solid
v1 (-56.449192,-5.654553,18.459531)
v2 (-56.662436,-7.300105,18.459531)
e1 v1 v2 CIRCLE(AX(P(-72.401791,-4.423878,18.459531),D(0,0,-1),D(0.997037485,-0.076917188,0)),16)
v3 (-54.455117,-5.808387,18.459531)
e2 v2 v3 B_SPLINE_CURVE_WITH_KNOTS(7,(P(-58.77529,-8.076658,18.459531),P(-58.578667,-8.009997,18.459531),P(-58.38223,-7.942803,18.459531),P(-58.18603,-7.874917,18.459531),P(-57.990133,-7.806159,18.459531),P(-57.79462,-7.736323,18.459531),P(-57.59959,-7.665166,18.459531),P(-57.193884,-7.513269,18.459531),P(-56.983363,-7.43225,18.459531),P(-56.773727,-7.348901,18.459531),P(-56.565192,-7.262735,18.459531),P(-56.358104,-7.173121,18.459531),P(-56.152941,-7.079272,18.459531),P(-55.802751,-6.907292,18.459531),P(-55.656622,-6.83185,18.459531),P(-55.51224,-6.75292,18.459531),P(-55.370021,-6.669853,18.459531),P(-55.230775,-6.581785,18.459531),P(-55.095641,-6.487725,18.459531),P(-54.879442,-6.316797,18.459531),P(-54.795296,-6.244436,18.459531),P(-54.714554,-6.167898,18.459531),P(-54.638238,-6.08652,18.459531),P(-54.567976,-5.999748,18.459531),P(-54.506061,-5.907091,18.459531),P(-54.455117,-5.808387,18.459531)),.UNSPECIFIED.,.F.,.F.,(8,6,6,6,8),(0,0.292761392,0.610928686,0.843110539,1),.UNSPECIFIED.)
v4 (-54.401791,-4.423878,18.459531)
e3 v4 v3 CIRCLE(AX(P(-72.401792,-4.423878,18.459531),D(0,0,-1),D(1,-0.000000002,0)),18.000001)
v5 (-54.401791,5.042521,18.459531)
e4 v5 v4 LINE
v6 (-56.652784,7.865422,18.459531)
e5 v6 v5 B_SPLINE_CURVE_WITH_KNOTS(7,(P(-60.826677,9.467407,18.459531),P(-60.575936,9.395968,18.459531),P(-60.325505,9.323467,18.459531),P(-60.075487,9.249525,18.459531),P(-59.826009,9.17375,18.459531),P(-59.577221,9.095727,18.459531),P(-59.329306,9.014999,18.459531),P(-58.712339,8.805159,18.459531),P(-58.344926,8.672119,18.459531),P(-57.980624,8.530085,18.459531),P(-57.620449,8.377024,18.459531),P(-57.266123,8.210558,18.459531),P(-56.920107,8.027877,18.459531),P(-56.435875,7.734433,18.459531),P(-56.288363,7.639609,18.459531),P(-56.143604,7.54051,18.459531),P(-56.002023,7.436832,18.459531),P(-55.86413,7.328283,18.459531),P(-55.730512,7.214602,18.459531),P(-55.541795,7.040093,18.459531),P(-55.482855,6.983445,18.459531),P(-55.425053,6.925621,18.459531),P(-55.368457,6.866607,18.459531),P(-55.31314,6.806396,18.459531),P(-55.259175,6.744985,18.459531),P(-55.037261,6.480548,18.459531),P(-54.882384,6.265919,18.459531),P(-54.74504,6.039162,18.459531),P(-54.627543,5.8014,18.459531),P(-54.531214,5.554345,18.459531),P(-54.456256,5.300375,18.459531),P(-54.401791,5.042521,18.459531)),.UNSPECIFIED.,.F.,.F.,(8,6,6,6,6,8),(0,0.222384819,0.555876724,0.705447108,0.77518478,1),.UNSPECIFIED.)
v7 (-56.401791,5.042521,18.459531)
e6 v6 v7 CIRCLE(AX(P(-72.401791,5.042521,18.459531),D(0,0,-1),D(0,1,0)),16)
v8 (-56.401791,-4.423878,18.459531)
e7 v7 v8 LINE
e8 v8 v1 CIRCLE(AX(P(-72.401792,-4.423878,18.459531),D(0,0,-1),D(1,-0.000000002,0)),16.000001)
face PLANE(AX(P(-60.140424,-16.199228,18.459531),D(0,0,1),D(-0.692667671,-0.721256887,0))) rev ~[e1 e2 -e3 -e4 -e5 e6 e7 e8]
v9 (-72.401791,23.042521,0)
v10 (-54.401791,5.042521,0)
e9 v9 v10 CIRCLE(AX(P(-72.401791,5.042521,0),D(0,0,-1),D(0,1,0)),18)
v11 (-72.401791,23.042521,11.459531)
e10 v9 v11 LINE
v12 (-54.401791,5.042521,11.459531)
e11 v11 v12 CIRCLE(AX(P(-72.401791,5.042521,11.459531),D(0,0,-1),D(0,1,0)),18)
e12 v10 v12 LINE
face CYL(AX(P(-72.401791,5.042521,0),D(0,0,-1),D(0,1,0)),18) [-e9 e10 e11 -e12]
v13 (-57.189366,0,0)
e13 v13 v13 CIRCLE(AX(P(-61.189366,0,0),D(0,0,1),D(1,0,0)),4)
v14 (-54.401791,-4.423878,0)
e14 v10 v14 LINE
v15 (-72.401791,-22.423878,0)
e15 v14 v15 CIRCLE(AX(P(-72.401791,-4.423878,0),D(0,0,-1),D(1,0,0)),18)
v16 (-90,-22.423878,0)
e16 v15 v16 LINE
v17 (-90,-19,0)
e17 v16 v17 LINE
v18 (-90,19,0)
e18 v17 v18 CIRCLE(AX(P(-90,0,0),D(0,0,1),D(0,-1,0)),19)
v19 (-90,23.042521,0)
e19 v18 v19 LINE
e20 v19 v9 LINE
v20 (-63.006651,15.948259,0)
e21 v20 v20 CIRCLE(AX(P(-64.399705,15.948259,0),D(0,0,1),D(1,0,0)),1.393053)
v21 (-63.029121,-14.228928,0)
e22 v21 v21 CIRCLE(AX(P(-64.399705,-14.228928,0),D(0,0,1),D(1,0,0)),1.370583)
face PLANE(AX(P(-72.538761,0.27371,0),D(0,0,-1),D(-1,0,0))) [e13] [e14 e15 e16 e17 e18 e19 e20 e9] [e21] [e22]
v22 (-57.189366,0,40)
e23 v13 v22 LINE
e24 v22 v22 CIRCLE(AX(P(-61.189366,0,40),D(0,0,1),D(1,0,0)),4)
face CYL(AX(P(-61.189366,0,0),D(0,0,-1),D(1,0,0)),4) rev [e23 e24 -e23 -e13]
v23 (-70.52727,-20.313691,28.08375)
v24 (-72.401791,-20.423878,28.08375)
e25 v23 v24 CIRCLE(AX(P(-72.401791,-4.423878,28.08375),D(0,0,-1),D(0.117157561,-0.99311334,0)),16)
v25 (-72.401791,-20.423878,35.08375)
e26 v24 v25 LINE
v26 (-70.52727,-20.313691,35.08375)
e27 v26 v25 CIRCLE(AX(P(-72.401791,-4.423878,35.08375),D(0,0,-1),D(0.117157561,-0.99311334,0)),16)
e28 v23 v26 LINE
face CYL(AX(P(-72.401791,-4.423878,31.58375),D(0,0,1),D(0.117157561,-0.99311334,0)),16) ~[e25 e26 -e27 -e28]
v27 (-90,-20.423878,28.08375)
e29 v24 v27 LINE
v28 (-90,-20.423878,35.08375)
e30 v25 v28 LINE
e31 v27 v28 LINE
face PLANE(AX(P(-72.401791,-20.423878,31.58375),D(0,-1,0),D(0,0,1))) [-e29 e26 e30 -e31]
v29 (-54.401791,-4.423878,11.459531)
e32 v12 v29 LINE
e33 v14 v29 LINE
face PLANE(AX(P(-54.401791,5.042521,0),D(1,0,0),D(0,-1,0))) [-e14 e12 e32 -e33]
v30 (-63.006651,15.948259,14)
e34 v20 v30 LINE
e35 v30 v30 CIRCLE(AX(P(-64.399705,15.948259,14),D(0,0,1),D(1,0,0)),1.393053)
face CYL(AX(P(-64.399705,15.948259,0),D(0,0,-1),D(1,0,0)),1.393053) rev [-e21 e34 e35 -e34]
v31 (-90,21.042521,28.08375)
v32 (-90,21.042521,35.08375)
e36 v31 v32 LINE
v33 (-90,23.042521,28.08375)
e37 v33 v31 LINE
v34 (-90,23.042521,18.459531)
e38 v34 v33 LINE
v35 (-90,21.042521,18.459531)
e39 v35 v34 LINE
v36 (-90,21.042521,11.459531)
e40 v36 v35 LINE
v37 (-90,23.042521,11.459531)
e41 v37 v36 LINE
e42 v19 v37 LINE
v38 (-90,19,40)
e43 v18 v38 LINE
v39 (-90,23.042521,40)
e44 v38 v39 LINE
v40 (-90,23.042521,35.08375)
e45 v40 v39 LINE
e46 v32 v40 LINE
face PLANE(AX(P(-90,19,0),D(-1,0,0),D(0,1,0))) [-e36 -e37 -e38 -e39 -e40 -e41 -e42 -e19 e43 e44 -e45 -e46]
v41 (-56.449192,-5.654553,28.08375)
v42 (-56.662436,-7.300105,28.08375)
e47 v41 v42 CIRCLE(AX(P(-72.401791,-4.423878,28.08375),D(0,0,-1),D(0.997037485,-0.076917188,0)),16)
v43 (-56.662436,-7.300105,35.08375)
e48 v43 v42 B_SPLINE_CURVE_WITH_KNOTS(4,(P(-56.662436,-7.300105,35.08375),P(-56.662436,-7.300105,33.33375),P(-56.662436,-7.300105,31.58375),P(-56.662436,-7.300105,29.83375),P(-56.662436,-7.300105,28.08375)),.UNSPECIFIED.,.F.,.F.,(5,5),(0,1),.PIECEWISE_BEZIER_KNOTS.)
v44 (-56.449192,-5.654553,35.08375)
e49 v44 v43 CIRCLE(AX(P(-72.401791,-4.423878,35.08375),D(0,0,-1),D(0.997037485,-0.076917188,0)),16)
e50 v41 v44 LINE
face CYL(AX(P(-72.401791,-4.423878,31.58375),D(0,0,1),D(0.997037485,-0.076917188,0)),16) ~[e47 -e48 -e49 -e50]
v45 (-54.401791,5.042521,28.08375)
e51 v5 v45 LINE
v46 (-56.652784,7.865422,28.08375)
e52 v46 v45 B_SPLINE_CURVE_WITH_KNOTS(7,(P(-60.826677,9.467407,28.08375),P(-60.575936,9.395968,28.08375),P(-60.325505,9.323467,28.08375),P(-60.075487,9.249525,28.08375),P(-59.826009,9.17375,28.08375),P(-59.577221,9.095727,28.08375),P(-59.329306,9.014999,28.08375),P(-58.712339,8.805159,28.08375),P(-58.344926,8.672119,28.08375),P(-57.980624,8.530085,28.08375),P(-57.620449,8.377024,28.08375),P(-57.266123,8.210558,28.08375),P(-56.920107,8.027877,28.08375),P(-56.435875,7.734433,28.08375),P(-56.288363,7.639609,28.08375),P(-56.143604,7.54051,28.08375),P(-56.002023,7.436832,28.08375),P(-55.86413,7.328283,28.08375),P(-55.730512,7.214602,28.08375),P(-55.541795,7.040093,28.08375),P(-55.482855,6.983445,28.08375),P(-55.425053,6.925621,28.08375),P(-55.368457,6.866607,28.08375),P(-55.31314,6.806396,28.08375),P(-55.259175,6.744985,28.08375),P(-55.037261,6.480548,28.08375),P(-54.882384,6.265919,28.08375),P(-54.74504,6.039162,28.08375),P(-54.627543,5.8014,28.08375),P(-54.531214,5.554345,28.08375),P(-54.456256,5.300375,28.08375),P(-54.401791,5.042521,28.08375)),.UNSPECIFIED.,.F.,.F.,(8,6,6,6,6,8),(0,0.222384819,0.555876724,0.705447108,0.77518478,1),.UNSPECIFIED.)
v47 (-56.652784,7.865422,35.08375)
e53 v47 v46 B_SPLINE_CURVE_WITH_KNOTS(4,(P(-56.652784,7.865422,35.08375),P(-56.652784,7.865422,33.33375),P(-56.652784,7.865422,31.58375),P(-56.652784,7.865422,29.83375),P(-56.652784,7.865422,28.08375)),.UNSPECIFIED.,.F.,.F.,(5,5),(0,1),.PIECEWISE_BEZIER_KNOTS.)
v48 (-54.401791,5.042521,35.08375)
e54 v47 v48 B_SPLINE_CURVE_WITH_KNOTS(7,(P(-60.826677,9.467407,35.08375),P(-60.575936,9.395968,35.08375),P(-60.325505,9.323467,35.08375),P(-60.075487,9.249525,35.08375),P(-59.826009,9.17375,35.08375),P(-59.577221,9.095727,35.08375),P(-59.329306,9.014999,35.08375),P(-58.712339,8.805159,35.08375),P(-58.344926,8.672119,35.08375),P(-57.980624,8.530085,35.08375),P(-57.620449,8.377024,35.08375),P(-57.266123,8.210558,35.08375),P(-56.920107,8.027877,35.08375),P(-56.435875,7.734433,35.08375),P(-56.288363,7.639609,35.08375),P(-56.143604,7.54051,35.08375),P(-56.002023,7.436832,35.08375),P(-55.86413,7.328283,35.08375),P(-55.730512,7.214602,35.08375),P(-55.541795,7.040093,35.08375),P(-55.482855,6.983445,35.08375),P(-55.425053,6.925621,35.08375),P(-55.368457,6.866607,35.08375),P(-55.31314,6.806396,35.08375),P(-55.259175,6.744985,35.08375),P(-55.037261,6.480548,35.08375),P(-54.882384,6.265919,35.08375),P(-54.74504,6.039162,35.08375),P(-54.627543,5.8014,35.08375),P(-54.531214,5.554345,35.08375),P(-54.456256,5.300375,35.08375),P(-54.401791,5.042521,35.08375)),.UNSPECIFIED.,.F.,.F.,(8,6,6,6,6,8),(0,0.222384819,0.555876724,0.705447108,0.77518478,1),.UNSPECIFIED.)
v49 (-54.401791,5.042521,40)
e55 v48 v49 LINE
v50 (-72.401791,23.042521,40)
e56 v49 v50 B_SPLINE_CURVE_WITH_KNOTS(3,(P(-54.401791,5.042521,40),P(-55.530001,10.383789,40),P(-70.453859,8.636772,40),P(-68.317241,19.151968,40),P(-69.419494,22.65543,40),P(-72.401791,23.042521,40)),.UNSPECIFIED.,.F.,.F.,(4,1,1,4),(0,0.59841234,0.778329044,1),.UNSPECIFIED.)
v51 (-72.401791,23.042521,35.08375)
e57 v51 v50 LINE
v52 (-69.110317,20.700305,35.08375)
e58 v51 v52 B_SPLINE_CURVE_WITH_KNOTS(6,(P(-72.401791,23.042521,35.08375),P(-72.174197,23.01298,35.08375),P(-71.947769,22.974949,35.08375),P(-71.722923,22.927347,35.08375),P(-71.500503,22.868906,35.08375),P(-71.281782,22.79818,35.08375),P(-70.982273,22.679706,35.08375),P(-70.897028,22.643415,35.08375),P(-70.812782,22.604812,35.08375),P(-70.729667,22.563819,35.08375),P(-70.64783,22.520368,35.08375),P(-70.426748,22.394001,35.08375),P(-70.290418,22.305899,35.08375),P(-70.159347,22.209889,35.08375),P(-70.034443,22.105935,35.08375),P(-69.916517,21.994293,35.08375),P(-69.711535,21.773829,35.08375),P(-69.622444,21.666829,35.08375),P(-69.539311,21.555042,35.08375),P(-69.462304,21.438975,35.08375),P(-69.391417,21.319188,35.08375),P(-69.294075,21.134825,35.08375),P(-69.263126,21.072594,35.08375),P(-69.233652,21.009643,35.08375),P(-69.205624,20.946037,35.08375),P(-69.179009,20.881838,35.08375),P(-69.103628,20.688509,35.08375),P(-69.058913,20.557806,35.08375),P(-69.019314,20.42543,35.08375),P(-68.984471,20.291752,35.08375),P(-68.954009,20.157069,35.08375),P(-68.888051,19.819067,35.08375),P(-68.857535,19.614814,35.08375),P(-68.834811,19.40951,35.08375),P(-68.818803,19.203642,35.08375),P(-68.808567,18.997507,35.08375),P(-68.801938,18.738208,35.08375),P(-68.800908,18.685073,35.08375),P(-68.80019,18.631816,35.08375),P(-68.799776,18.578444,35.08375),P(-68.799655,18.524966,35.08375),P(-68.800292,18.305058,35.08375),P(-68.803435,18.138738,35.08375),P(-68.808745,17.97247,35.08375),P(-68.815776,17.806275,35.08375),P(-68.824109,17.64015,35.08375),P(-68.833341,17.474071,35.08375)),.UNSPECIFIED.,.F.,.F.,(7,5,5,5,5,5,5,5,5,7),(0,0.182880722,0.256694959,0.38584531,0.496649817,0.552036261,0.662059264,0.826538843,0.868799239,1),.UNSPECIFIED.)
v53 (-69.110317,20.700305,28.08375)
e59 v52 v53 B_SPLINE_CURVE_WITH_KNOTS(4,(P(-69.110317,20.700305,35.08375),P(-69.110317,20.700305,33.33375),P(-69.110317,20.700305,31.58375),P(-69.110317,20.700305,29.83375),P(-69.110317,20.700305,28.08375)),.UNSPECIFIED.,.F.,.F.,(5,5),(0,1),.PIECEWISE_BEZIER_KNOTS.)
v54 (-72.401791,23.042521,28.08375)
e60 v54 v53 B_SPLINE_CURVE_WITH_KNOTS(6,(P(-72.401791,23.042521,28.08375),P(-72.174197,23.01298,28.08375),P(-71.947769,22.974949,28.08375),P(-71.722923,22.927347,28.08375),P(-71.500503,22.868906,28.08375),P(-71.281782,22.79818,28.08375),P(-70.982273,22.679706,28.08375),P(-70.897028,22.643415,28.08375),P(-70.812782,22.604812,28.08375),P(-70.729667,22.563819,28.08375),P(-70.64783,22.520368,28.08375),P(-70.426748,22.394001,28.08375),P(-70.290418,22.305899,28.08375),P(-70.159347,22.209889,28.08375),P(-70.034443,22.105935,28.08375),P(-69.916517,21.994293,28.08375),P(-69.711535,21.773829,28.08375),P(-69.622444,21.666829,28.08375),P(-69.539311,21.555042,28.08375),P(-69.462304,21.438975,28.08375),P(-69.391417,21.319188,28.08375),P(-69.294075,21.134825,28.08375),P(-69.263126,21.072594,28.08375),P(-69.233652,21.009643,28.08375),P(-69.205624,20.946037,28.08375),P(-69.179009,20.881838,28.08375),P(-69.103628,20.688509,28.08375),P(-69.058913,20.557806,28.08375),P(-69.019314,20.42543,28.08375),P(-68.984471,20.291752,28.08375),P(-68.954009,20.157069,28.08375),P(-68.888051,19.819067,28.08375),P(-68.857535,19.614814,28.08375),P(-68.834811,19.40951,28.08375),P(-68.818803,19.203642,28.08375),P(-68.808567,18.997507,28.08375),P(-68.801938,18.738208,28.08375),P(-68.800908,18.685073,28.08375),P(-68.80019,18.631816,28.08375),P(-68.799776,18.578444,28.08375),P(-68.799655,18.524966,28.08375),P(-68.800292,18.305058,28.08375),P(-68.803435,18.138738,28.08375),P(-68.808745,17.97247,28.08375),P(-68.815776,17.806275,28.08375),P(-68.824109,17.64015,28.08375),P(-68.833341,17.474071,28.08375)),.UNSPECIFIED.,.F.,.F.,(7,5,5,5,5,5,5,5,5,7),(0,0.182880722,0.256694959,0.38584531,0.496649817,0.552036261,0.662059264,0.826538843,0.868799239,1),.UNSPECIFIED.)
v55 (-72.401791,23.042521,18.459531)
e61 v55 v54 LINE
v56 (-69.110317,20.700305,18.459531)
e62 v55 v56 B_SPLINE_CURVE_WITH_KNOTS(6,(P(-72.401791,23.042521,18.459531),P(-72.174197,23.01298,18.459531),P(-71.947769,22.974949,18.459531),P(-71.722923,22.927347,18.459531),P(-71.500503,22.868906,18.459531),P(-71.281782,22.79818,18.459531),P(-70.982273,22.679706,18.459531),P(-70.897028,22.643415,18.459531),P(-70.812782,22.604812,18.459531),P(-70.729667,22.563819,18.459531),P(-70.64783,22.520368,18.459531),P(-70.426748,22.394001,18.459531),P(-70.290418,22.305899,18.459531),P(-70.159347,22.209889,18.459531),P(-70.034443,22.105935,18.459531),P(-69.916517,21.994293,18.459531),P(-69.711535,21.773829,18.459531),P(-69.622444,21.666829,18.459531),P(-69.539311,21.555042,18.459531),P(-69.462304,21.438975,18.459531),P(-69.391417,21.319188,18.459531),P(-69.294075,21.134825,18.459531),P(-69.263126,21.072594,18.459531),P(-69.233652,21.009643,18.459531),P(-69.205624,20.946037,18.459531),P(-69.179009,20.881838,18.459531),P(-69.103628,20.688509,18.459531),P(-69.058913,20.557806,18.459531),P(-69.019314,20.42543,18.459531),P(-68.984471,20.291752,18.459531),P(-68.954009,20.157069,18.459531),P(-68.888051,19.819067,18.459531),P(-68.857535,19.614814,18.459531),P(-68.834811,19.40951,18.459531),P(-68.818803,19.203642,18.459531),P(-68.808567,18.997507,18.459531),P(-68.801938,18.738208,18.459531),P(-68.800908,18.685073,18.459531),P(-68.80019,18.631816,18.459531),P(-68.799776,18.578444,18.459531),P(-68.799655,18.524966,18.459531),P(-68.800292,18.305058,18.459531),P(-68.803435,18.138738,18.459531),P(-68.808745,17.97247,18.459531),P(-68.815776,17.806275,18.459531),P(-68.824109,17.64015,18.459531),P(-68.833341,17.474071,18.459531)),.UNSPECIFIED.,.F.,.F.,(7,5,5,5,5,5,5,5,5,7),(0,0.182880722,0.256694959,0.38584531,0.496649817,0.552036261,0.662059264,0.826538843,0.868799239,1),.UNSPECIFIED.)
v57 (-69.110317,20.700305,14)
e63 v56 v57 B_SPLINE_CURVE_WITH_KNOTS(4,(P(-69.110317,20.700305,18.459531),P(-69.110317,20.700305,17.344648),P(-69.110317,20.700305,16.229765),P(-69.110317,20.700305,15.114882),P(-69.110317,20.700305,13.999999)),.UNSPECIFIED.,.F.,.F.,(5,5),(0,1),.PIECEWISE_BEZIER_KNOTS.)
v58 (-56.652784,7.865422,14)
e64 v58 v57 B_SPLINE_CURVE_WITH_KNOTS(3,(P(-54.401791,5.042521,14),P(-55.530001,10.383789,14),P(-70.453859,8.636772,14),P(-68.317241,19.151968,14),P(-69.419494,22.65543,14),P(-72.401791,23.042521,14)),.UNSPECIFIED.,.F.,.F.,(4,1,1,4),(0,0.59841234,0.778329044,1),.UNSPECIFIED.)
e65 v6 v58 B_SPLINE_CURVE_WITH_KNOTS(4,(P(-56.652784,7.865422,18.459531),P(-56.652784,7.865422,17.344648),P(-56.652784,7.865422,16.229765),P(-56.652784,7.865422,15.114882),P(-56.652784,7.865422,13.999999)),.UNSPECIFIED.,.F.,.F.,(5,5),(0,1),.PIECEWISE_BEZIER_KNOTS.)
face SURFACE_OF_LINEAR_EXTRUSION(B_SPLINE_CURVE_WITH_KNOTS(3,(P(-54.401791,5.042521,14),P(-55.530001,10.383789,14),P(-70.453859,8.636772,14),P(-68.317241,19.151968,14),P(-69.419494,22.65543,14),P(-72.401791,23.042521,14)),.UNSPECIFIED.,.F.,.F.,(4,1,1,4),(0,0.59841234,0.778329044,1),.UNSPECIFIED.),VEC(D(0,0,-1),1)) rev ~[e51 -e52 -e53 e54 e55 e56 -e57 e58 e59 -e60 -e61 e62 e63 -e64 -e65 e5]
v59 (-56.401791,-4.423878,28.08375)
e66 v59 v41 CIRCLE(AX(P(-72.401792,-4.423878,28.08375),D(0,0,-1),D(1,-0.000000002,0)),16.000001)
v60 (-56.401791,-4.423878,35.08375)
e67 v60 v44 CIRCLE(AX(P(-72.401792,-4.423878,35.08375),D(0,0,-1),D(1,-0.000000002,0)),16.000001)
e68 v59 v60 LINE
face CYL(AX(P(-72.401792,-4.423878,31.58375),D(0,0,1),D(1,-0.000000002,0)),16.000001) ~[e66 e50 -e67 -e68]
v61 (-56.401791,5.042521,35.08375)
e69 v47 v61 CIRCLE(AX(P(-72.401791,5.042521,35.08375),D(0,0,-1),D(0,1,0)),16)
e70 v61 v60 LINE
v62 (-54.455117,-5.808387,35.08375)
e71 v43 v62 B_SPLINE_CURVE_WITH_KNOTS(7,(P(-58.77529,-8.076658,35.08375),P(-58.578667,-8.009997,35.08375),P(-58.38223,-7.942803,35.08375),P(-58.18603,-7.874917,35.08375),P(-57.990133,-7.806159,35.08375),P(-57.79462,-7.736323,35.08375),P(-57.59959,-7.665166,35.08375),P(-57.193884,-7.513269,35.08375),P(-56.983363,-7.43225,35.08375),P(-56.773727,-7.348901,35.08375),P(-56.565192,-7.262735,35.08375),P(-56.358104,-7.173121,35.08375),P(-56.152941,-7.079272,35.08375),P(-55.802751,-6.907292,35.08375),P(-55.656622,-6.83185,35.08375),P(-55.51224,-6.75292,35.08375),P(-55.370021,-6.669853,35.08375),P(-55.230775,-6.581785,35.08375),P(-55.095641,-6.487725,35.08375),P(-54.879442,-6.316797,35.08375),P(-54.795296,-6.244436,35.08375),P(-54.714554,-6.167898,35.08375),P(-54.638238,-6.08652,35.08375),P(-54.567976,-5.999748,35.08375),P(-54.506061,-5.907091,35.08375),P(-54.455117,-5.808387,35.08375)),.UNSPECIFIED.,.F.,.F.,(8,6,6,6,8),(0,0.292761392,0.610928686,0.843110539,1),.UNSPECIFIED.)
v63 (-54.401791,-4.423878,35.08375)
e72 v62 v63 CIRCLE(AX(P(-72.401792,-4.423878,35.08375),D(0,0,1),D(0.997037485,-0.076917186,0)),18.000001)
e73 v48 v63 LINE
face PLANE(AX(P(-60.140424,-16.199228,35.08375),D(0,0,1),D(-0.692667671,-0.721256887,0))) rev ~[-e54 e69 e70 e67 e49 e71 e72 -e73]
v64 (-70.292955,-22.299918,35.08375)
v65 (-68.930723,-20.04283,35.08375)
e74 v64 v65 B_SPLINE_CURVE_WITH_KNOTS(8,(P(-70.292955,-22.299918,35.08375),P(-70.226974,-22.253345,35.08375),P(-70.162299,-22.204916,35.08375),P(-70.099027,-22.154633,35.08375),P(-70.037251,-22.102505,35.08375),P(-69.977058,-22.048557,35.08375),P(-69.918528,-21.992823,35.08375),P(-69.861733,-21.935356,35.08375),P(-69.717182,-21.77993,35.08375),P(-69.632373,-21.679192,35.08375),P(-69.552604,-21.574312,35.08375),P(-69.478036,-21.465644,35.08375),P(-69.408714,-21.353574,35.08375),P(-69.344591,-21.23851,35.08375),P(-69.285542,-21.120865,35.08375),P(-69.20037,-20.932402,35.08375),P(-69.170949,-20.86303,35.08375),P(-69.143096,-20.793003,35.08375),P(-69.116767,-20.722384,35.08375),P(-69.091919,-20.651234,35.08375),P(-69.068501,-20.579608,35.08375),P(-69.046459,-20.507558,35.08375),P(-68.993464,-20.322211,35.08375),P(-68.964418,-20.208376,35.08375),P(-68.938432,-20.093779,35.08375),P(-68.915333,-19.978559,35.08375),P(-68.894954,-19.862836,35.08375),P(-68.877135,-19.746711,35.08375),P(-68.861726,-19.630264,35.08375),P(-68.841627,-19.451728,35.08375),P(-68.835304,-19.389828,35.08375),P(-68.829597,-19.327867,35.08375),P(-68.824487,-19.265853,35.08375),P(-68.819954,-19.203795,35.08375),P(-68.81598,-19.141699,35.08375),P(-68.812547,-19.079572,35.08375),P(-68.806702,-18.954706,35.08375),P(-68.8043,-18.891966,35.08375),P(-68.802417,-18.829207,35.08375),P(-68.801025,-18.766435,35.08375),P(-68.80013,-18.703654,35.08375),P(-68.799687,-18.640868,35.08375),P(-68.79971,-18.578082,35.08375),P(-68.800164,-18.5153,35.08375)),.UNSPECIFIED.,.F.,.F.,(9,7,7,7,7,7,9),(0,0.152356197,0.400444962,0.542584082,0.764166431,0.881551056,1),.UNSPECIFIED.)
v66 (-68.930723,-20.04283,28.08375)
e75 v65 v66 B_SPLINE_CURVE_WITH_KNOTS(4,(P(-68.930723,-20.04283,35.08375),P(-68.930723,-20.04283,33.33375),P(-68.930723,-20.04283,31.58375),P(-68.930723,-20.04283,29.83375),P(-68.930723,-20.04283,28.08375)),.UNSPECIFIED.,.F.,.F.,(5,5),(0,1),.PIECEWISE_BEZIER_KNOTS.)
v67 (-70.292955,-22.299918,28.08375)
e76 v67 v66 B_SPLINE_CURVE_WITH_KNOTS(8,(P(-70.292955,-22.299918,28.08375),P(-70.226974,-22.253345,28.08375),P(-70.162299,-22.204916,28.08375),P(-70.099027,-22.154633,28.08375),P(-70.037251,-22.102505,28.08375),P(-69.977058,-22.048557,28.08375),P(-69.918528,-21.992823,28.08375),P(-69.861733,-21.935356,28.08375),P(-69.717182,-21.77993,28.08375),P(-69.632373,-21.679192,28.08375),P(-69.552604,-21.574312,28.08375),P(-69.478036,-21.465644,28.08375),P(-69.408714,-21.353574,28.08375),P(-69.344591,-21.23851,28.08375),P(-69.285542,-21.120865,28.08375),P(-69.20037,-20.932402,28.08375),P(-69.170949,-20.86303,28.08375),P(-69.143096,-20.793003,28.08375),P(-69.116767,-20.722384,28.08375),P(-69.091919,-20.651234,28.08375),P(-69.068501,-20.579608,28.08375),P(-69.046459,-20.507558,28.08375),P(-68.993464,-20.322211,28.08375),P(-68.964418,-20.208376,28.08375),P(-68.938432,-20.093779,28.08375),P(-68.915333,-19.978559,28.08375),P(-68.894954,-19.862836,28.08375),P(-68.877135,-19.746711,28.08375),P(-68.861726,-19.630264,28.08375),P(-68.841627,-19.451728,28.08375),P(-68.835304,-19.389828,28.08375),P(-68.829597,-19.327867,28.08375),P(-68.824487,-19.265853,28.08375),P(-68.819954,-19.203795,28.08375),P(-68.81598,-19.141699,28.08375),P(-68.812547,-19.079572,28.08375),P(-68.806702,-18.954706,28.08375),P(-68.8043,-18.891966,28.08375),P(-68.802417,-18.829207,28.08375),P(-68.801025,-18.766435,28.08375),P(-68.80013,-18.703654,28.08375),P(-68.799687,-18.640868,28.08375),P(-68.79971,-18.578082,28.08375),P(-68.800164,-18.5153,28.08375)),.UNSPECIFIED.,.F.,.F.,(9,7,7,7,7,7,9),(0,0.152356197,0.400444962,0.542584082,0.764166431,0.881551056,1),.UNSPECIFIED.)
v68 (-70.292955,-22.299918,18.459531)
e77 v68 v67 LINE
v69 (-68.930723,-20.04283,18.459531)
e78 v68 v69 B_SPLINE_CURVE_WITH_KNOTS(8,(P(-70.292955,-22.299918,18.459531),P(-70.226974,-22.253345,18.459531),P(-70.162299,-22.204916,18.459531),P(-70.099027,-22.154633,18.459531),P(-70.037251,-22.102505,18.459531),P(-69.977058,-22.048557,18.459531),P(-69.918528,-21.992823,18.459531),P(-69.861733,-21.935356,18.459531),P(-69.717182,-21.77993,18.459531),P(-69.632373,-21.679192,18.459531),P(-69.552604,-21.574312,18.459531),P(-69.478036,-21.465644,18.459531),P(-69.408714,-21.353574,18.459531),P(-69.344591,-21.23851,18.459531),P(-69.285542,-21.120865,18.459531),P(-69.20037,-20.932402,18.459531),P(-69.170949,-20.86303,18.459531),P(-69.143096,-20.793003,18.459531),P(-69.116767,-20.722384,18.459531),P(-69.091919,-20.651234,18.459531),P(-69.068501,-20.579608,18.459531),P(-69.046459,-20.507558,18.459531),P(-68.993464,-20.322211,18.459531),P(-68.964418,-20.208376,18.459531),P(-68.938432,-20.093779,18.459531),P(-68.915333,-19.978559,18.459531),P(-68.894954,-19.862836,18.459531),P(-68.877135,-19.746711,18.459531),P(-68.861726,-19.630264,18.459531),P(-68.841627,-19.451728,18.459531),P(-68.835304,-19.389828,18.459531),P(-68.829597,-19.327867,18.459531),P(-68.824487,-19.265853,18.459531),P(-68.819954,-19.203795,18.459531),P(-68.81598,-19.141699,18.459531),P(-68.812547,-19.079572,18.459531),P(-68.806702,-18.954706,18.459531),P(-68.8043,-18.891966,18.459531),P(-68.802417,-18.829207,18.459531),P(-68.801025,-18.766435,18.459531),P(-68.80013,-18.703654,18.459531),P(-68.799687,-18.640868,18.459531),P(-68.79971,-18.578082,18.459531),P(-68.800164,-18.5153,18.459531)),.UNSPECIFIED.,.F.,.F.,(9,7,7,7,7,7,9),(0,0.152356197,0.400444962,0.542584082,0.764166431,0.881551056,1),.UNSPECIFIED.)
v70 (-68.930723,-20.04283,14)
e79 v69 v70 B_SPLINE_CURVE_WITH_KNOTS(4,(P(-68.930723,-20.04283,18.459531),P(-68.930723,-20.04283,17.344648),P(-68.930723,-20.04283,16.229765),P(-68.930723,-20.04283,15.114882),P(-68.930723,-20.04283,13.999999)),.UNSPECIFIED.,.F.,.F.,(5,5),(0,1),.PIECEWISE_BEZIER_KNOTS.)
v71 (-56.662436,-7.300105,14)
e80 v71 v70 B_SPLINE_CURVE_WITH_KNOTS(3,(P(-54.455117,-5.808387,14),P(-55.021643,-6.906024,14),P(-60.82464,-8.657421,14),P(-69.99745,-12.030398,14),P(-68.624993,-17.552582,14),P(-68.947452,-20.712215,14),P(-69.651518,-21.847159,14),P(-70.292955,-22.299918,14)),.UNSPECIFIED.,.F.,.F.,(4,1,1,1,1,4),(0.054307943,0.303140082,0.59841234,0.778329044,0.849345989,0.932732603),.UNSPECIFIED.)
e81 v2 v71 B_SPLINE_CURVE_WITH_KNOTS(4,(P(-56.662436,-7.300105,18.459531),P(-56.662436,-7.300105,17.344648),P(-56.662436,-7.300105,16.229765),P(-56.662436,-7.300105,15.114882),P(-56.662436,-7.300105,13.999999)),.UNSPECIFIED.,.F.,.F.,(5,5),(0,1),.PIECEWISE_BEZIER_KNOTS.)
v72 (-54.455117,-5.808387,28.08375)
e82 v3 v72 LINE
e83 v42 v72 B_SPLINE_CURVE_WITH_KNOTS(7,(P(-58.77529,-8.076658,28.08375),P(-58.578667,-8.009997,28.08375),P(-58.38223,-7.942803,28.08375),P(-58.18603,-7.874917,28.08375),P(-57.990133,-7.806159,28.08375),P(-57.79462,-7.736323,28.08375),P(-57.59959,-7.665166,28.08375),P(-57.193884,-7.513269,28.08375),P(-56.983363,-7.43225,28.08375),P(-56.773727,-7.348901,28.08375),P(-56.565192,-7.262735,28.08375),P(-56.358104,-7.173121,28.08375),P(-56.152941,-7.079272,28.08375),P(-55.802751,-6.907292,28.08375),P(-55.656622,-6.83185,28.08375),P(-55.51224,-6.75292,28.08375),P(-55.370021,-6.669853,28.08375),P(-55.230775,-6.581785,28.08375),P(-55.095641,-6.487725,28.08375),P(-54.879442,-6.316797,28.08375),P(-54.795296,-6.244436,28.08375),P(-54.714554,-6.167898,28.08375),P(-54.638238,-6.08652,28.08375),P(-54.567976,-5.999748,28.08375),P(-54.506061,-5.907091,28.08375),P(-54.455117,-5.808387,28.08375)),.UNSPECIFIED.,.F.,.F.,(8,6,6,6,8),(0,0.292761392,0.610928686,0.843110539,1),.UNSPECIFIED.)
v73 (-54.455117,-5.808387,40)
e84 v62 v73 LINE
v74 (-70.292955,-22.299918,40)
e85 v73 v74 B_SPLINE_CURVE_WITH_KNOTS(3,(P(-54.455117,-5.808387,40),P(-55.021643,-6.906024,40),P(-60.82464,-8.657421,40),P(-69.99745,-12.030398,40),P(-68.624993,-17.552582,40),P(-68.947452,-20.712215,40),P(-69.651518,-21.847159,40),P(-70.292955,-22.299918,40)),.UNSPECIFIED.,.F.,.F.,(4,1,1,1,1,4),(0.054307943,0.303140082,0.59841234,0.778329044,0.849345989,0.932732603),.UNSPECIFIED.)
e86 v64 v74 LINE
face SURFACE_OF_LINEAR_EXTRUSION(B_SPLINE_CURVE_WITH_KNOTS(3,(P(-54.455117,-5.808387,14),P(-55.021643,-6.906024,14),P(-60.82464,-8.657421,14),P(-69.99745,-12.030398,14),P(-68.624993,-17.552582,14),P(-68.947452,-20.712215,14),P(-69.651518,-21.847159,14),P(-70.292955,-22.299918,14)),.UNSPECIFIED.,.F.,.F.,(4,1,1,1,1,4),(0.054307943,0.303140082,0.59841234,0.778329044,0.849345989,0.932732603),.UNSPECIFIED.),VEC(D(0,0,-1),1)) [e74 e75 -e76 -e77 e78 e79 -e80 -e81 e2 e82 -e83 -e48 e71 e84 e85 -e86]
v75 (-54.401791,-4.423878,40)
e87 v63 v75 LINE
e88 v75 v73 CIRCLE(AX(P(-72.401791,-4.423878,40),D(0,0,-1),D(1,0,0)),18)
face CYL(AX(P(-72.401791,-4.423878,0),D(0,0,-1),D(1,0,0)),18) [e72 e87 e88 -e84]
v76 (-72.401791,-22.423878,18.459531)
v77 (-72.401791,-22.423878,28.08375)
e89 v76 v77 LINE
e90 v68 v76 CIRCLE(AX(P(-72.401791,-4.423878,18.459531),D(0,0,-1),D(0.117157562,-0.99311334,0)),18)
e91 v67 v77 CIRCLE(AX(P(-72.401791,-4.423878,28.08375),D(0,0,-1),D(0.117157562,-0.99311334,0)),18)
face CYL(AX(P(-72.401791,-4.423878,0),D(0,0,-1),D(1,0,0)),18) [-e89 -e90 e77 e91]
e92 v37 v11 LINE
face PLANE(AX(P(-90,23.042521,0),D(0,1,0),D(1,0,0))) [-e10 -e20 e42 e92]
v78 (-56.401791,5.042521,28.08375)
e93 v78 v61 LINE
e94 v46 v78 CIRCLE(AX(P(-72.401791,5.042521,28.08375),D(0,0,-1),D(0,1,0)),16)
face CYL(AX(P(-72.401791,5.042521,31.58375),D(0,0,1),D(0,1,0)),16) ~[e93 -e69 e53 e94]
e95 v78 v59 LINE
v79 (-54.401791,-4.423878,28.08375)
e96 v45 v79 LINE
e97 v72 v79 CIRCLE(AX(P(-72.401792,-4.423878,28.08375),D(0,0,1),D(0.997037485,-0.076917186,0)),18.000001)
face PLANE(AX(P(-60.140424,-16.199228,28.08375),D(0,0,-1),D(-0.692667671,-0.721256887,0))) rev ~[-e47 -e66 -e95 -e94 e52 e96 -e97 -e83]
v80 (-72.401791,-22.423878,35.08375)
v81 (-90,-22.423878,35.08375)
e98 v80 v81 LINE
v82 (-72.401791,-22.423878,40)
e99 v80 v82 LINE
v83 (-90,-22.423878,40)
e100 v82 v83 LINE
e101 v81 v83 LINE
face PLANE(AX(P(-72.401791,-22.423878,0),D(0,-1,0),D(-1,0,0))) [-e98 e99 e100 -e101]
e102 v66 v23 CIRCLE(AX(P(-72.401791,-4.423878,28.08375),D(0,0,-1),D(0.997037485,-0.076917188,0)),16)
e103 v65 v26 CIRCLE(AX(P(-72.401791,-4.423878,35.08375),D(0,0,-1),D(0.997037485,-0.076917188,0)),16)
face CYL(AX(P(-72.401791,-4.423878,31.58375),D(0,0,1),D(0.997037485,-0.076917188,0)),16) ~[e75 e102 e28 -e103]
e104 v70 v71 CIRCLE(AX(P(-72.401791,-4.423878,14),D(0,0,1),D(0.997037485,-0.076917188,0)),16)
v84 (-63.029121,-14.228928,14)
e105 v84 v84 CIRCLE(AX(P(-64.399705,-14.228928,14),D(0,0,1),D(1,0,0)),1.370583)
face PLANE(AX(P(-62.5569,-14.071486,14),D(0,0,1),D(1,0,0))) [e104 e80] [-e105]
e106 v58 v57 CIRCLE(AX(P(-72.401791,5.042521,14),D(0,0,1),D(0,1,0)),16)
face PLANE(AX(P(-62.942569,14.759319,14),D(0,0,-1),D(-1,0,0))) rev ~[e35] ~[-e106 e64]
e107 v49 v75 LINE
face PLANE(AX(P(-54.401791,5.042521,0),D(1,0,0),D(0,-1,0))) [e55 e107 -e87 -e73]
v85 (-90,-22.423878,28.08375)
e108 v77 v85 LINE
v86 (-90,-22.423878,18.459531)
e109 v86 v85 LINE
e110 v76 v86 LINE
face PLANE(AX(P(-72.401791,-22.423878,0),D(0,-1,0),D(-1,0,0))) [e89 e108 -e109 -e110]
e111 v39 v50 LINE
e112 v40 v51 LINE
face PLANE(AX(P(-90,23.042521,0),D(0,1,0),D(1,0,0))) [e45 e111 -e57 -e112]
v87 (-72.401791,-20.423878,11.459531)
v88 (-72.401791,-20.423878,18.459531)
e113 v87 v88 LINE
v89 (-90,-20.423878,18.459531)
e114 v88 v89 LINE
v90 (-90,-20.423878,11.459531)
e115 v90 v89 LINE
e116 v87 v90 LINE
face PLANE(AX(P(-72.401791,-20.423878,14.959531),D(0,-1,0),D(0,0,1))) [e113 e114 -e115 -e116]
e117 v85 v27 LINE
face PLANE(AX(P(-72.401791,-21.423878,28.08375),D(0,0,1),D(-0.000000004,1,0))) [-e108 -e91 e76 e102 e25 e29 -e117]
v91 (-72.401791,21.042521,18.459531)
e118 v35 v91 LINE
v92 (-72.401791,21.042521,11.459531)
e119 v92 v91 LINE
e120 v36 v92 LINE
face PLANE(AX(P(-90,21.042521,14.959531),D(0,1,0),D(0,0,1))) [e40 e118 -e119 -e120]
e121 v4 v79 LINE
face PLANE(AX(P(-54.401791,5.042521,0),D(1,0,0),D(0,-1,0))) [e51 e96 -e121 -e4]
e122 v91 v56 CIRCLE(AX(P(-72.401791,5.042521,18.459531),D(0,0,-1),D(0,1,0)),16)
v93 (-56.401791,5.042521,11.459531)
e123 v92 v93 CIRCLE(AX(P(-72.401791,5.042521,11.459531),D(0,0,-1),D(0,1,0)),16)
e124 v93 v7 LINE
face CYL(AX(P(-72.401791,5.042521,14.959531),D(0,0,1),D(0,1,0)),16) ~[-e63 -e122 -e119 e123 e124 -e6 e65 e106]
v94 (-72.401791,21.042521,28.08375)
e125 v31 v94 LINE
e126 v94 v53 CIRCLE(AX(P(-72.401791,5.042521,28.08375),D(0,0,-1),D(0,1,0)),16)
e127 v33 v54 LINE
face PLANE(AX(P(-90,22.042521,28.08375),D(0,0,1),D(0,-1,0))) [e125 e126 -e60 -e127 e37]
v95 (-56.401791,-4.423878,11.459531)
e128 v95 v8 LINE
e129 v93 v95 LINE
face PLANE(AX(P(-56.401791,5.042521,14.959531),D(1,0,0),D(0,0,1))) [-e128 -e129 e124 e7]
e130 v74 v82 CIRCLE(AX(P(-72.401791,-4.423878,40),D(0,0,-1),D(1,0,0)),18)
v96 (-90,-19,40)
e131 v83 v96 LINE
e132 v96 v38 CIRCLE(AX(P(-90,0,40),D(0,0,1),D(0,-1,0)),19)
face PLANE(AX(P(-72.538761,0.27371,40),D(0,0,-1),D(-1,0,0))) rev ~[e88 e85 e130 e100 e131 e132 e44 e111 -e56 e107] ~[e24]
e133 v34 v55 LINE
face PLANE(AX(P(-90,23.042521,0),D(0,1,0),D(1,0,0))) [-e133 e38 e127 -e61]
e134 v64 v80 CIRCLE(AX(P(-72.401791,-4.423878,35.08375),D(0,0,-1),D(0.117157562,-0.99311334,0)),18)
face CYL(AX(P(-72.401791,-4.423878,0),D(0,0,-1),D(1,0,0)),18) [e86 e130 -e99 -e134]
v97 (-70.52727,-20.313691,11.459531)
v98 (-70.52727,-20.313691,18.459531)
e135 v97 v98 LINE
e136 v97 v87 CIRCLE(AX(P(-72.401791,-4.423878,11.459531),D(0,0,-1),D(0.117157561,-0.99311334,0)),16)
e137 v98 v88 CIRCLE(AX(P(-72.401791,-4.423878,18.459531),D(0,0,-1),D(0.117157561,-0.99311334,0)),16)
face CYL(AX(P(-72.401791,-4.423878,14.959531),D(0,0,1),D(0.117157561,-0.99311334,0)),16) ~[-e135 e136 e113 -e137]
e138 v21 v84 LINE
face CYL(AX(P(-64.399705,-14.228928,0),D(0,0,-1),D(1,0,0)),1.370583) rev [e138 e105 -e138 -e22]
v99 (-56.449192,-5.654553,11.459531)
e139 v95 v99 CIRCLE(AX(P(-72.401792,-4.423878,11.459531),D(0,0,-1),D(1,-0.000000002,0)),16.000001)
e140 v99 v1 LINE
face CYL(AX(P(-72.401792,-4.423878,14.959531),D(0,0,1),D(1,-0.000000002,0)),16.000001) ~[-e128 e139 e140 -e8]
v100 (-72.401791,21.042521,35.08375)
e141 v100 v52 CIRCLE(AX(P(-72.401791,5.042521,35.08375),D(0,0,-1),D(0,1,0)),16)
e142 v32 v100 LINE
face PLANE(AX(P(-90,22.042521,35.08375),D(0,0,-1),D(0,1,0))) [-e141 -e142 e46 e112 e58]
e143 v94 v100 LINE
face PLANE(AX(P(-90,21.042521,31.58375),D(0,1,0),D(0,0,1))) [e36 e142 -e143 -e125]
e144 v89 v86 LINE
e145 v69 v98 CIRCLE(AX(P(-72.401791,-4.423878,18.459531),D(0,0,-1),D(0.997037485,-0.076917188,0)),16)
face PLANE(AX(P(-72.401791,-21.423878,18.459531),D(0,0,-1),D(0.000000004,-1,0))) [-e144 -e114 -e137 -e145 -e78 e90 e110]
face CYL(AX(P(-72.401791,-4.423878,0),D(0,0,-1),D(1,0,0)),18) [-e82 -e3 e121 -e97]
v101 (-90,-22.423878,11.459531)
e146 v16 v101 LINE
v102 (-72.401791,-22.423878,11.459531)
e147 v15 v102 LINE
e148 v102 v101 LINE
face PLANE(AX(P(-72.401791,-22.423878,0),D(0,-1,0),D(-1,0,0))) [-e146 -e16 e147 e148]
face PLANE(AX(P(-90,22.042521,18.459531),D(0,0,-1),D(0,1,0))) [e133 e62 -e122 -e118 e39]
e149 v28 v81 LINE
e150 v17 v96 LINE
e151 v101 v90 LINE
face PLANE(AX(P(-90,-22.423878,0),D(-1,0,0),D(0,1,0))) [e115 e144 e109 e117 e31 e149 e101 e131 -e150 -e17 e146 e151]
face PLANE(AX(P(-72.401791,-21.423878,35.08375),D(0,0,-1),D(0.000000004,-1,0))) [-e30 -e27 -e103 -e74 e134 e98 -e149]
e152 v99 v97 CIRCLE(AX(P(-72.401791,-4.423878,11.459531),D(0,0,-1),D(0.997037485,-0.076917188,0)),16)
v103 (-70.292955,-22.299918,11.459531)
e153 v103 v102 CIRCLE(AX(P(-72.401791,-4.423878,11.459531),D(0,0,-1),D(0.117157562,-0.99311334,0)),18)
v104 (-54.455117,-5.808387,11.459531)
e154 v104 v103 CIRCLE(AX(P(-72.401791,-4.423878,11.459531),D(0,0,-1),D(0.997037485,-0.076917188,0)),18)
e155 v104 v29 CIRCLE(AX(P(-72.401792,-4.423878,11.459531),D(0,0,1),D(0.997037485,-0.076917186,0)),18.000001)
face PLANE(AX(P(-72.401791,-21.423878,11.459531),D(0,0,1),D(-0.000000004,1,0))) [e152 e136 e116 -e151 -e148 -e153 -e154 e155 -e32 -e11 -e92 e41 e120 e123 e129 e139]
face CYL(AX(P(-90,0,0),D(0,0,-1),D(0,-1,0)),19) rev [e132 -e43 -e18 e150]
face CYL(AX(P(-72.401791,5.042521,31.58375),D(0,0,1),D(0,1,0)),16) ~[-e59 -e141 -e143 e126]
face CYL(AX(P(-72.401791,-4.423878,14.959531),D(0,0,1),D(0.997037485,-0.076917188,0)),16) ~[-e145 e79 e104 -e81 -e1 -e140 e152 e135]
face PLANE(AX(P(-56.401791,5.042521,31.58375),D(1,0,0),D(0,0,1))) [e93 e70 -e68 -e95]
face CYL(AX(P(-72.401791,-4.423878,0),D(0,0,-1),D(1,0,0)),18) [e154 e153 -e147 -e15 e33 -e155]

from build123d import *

# Parameters (mm, degrees)
ESBO_O1_R                = 1.393053459
ESBO_O1_R_2              = 4
ESBO_O1_R_3              = 1.370583382
RESSALTO_EXTRUS_O1_DEPTH = 40
CORTE_EXTRUS_O1_START    = -26
ESBO_O5_R                = 1.393053459
ESBO_O5_R_2              = 1.370583382
CORTE_EXTRUS_O1_DEPTH    = 26
ESBO_O8_W                = 7
ESBO_O8_H                = 2


with BuildPart() as part:
    # Esboço1 → Ressalto-extrusão1 (new body)
    with BuildSketch(Plane.XY):
        with BuildLine():
            Line((-90, -22.423877672), (-90, -19))
            ThreePointArc((-90, -19), (-71, 0), (-90, 19))
            Line((-90, 19), (-90, 23.042521341))
            Line((-90, 23.042521341), (-72.401791427, 23.042521341))
            ThreePointArc((-72.401791427, 23.042521341), (-59.673869366, 17.770443402), (-54.401791427, 5.042521341))
            Line((-54.401791427, 5.042521341), (-54.401791427, -4.423877672))
            ThreePointArc((-54.401791427, -4.423877672), (-59.673869366, -17.151799733), (-72.401791427, -22.423877672))
            Line((-72.401791427, -22.423877672), (-90, -22.423877672))
        make_face()
        with Locations((-64.399704634, 15.948259466)):
            Circle(ESBO_O1_R, mode=Mode.SUBTRACT)
        with Locations((-61.189365531, 0)):
            Circle(ESBO_O1_R_2, mode=Mode.SUBTRACT)
        with Locations((-64.399704634, -14.228928105)):
            Circle(ESBO_O1_R_3, mode=Mode.SUBTRACT)
    extrude(amount=RESSALTO_EXTRUS_O1_DEPTH)

    # Esboço5 → Corte-extrusão1 (cut)
    # profile 1 of 3: a face of its own
    with BuildSketch(Plane.XY.offset(40).offset(CORTE_EXTRUS_O1_START)):
        with BuildLine():
            add(Edge.make_bspline(
                [(-54.401791427, 5.042521341), (-55.530001159, 10.383788665), (-70.453859237, 8.636772089), (-68.317241022, 19.151967947), (-69.419494496, 22.655429754), (-72.401791427, 23.042521341)],
                knots=[0, 0, 0, 0, 0.59841234, 0.778329044, 1, 1, 1, 1], degree=3))
            ThreePointArc((-72.401791427, 23.042521341), (-59.673869366, 17.770443402), (-54.401791427, 5.042521341))
        make_face()
        with Locations((-64.399704634, 15.948259466)):
            Circle(ESBO_O5_R, mode=Mode.SUBTRACT)
    # profile 2 of 3: a face of its own
    with BuildSketch(Plane.XY.offset(40).offset(CORTE_EXTRUS_O1_START)):
        with BuildLine():
            add(Edge.make_bspline(
                [(-54.455116699, -5.808387052), (-55.021642733, -6.906023952), (-60.824639792, -8.65742119), (-69.99744996, -12.030398314), (-68.624992944, -17.552582132), (-68.947451642, -20.712215011), (-69.65151808, -21.847158712), (-70.29295532, -22.299917789)],
                knots=[0.054307943, 0.054307943, 0.054307943, 0.054307943, 0.303140082, 0.59841234, 0.778329044, 0.849345989, 0.932732603, 0.932732603, 0.932732603, 0.932732603], degree=3))
            ThreePointArc((-70.29295532, -22.299917789), (-59.419167454, -16.891895749), (-54.455116699, -5.808387052))
        make_face()
        with Locations((-64.399704634, -14.228928105)):
            Circle(ESBO_O5_R_2, mode=Mode.SUBTRACT)
    # profile 3 of 3: a face of its own
    with BuildSketch(Plane.XY.offset(40).offset(CORTE_EXTRUS_O1_START)):
        with Locations((-64.399704634, 15.948259466)):
            Circle(ESBO_O5_R)
    extrude(amount=CORTE_EXTRUS_O1_DEPTH, mode=Mode.SUBTRACT)

    # Varredura de corte1: sweep along a path in Esboço7
    with BuildLine(Plane.XY.offset(40)) as varredura_de_corte1_path:
        Line((-90, 23.042521341), (-72.401791427, 23.042521341))
        ThreePointArc((-72.401791427, 23.042521341), (-59.673869366, 17.770443402), (-54.401791427, 5.042521341))
        Line((-54.401791427, 5.042521341), (-54.401791427, -4.423877672))
        ThreePointArc((-54.401791427, -4.423877672), (-54.415127686, -5.116645636), (-54.455116699, -5.808387052))
        ThreePointArc((-54.455116699, -5.808387052), (-59.419167454, -16.891895749), (-70.29295532, -22.299917789))
        ThreePointArc((-70.29295532, -22.299917789), (-71.345553317, -22.392860978), (-72.401791427, -22.423877672))
        Line((-72.401791427, -22.423877672), (-90, -22.423877672))
    # Esboço8 → Varredura de corte1 (sweep, cut)
    with BuildSketch(Plane.ZY.offset(90)):
        with Locations((31.583750193, 22.042521341)):
            Rectangle(ESBO_O8_W, ESBO_O8_H)
        with Locations((14.959531016, 22.042521341)):
            Rectangle(ESBO_O8_W, ESBO_O8_H)
    sweep(path=varredura_de_corte1_path.line, mode=Mode.SUBTRACT)


solid = part.part
